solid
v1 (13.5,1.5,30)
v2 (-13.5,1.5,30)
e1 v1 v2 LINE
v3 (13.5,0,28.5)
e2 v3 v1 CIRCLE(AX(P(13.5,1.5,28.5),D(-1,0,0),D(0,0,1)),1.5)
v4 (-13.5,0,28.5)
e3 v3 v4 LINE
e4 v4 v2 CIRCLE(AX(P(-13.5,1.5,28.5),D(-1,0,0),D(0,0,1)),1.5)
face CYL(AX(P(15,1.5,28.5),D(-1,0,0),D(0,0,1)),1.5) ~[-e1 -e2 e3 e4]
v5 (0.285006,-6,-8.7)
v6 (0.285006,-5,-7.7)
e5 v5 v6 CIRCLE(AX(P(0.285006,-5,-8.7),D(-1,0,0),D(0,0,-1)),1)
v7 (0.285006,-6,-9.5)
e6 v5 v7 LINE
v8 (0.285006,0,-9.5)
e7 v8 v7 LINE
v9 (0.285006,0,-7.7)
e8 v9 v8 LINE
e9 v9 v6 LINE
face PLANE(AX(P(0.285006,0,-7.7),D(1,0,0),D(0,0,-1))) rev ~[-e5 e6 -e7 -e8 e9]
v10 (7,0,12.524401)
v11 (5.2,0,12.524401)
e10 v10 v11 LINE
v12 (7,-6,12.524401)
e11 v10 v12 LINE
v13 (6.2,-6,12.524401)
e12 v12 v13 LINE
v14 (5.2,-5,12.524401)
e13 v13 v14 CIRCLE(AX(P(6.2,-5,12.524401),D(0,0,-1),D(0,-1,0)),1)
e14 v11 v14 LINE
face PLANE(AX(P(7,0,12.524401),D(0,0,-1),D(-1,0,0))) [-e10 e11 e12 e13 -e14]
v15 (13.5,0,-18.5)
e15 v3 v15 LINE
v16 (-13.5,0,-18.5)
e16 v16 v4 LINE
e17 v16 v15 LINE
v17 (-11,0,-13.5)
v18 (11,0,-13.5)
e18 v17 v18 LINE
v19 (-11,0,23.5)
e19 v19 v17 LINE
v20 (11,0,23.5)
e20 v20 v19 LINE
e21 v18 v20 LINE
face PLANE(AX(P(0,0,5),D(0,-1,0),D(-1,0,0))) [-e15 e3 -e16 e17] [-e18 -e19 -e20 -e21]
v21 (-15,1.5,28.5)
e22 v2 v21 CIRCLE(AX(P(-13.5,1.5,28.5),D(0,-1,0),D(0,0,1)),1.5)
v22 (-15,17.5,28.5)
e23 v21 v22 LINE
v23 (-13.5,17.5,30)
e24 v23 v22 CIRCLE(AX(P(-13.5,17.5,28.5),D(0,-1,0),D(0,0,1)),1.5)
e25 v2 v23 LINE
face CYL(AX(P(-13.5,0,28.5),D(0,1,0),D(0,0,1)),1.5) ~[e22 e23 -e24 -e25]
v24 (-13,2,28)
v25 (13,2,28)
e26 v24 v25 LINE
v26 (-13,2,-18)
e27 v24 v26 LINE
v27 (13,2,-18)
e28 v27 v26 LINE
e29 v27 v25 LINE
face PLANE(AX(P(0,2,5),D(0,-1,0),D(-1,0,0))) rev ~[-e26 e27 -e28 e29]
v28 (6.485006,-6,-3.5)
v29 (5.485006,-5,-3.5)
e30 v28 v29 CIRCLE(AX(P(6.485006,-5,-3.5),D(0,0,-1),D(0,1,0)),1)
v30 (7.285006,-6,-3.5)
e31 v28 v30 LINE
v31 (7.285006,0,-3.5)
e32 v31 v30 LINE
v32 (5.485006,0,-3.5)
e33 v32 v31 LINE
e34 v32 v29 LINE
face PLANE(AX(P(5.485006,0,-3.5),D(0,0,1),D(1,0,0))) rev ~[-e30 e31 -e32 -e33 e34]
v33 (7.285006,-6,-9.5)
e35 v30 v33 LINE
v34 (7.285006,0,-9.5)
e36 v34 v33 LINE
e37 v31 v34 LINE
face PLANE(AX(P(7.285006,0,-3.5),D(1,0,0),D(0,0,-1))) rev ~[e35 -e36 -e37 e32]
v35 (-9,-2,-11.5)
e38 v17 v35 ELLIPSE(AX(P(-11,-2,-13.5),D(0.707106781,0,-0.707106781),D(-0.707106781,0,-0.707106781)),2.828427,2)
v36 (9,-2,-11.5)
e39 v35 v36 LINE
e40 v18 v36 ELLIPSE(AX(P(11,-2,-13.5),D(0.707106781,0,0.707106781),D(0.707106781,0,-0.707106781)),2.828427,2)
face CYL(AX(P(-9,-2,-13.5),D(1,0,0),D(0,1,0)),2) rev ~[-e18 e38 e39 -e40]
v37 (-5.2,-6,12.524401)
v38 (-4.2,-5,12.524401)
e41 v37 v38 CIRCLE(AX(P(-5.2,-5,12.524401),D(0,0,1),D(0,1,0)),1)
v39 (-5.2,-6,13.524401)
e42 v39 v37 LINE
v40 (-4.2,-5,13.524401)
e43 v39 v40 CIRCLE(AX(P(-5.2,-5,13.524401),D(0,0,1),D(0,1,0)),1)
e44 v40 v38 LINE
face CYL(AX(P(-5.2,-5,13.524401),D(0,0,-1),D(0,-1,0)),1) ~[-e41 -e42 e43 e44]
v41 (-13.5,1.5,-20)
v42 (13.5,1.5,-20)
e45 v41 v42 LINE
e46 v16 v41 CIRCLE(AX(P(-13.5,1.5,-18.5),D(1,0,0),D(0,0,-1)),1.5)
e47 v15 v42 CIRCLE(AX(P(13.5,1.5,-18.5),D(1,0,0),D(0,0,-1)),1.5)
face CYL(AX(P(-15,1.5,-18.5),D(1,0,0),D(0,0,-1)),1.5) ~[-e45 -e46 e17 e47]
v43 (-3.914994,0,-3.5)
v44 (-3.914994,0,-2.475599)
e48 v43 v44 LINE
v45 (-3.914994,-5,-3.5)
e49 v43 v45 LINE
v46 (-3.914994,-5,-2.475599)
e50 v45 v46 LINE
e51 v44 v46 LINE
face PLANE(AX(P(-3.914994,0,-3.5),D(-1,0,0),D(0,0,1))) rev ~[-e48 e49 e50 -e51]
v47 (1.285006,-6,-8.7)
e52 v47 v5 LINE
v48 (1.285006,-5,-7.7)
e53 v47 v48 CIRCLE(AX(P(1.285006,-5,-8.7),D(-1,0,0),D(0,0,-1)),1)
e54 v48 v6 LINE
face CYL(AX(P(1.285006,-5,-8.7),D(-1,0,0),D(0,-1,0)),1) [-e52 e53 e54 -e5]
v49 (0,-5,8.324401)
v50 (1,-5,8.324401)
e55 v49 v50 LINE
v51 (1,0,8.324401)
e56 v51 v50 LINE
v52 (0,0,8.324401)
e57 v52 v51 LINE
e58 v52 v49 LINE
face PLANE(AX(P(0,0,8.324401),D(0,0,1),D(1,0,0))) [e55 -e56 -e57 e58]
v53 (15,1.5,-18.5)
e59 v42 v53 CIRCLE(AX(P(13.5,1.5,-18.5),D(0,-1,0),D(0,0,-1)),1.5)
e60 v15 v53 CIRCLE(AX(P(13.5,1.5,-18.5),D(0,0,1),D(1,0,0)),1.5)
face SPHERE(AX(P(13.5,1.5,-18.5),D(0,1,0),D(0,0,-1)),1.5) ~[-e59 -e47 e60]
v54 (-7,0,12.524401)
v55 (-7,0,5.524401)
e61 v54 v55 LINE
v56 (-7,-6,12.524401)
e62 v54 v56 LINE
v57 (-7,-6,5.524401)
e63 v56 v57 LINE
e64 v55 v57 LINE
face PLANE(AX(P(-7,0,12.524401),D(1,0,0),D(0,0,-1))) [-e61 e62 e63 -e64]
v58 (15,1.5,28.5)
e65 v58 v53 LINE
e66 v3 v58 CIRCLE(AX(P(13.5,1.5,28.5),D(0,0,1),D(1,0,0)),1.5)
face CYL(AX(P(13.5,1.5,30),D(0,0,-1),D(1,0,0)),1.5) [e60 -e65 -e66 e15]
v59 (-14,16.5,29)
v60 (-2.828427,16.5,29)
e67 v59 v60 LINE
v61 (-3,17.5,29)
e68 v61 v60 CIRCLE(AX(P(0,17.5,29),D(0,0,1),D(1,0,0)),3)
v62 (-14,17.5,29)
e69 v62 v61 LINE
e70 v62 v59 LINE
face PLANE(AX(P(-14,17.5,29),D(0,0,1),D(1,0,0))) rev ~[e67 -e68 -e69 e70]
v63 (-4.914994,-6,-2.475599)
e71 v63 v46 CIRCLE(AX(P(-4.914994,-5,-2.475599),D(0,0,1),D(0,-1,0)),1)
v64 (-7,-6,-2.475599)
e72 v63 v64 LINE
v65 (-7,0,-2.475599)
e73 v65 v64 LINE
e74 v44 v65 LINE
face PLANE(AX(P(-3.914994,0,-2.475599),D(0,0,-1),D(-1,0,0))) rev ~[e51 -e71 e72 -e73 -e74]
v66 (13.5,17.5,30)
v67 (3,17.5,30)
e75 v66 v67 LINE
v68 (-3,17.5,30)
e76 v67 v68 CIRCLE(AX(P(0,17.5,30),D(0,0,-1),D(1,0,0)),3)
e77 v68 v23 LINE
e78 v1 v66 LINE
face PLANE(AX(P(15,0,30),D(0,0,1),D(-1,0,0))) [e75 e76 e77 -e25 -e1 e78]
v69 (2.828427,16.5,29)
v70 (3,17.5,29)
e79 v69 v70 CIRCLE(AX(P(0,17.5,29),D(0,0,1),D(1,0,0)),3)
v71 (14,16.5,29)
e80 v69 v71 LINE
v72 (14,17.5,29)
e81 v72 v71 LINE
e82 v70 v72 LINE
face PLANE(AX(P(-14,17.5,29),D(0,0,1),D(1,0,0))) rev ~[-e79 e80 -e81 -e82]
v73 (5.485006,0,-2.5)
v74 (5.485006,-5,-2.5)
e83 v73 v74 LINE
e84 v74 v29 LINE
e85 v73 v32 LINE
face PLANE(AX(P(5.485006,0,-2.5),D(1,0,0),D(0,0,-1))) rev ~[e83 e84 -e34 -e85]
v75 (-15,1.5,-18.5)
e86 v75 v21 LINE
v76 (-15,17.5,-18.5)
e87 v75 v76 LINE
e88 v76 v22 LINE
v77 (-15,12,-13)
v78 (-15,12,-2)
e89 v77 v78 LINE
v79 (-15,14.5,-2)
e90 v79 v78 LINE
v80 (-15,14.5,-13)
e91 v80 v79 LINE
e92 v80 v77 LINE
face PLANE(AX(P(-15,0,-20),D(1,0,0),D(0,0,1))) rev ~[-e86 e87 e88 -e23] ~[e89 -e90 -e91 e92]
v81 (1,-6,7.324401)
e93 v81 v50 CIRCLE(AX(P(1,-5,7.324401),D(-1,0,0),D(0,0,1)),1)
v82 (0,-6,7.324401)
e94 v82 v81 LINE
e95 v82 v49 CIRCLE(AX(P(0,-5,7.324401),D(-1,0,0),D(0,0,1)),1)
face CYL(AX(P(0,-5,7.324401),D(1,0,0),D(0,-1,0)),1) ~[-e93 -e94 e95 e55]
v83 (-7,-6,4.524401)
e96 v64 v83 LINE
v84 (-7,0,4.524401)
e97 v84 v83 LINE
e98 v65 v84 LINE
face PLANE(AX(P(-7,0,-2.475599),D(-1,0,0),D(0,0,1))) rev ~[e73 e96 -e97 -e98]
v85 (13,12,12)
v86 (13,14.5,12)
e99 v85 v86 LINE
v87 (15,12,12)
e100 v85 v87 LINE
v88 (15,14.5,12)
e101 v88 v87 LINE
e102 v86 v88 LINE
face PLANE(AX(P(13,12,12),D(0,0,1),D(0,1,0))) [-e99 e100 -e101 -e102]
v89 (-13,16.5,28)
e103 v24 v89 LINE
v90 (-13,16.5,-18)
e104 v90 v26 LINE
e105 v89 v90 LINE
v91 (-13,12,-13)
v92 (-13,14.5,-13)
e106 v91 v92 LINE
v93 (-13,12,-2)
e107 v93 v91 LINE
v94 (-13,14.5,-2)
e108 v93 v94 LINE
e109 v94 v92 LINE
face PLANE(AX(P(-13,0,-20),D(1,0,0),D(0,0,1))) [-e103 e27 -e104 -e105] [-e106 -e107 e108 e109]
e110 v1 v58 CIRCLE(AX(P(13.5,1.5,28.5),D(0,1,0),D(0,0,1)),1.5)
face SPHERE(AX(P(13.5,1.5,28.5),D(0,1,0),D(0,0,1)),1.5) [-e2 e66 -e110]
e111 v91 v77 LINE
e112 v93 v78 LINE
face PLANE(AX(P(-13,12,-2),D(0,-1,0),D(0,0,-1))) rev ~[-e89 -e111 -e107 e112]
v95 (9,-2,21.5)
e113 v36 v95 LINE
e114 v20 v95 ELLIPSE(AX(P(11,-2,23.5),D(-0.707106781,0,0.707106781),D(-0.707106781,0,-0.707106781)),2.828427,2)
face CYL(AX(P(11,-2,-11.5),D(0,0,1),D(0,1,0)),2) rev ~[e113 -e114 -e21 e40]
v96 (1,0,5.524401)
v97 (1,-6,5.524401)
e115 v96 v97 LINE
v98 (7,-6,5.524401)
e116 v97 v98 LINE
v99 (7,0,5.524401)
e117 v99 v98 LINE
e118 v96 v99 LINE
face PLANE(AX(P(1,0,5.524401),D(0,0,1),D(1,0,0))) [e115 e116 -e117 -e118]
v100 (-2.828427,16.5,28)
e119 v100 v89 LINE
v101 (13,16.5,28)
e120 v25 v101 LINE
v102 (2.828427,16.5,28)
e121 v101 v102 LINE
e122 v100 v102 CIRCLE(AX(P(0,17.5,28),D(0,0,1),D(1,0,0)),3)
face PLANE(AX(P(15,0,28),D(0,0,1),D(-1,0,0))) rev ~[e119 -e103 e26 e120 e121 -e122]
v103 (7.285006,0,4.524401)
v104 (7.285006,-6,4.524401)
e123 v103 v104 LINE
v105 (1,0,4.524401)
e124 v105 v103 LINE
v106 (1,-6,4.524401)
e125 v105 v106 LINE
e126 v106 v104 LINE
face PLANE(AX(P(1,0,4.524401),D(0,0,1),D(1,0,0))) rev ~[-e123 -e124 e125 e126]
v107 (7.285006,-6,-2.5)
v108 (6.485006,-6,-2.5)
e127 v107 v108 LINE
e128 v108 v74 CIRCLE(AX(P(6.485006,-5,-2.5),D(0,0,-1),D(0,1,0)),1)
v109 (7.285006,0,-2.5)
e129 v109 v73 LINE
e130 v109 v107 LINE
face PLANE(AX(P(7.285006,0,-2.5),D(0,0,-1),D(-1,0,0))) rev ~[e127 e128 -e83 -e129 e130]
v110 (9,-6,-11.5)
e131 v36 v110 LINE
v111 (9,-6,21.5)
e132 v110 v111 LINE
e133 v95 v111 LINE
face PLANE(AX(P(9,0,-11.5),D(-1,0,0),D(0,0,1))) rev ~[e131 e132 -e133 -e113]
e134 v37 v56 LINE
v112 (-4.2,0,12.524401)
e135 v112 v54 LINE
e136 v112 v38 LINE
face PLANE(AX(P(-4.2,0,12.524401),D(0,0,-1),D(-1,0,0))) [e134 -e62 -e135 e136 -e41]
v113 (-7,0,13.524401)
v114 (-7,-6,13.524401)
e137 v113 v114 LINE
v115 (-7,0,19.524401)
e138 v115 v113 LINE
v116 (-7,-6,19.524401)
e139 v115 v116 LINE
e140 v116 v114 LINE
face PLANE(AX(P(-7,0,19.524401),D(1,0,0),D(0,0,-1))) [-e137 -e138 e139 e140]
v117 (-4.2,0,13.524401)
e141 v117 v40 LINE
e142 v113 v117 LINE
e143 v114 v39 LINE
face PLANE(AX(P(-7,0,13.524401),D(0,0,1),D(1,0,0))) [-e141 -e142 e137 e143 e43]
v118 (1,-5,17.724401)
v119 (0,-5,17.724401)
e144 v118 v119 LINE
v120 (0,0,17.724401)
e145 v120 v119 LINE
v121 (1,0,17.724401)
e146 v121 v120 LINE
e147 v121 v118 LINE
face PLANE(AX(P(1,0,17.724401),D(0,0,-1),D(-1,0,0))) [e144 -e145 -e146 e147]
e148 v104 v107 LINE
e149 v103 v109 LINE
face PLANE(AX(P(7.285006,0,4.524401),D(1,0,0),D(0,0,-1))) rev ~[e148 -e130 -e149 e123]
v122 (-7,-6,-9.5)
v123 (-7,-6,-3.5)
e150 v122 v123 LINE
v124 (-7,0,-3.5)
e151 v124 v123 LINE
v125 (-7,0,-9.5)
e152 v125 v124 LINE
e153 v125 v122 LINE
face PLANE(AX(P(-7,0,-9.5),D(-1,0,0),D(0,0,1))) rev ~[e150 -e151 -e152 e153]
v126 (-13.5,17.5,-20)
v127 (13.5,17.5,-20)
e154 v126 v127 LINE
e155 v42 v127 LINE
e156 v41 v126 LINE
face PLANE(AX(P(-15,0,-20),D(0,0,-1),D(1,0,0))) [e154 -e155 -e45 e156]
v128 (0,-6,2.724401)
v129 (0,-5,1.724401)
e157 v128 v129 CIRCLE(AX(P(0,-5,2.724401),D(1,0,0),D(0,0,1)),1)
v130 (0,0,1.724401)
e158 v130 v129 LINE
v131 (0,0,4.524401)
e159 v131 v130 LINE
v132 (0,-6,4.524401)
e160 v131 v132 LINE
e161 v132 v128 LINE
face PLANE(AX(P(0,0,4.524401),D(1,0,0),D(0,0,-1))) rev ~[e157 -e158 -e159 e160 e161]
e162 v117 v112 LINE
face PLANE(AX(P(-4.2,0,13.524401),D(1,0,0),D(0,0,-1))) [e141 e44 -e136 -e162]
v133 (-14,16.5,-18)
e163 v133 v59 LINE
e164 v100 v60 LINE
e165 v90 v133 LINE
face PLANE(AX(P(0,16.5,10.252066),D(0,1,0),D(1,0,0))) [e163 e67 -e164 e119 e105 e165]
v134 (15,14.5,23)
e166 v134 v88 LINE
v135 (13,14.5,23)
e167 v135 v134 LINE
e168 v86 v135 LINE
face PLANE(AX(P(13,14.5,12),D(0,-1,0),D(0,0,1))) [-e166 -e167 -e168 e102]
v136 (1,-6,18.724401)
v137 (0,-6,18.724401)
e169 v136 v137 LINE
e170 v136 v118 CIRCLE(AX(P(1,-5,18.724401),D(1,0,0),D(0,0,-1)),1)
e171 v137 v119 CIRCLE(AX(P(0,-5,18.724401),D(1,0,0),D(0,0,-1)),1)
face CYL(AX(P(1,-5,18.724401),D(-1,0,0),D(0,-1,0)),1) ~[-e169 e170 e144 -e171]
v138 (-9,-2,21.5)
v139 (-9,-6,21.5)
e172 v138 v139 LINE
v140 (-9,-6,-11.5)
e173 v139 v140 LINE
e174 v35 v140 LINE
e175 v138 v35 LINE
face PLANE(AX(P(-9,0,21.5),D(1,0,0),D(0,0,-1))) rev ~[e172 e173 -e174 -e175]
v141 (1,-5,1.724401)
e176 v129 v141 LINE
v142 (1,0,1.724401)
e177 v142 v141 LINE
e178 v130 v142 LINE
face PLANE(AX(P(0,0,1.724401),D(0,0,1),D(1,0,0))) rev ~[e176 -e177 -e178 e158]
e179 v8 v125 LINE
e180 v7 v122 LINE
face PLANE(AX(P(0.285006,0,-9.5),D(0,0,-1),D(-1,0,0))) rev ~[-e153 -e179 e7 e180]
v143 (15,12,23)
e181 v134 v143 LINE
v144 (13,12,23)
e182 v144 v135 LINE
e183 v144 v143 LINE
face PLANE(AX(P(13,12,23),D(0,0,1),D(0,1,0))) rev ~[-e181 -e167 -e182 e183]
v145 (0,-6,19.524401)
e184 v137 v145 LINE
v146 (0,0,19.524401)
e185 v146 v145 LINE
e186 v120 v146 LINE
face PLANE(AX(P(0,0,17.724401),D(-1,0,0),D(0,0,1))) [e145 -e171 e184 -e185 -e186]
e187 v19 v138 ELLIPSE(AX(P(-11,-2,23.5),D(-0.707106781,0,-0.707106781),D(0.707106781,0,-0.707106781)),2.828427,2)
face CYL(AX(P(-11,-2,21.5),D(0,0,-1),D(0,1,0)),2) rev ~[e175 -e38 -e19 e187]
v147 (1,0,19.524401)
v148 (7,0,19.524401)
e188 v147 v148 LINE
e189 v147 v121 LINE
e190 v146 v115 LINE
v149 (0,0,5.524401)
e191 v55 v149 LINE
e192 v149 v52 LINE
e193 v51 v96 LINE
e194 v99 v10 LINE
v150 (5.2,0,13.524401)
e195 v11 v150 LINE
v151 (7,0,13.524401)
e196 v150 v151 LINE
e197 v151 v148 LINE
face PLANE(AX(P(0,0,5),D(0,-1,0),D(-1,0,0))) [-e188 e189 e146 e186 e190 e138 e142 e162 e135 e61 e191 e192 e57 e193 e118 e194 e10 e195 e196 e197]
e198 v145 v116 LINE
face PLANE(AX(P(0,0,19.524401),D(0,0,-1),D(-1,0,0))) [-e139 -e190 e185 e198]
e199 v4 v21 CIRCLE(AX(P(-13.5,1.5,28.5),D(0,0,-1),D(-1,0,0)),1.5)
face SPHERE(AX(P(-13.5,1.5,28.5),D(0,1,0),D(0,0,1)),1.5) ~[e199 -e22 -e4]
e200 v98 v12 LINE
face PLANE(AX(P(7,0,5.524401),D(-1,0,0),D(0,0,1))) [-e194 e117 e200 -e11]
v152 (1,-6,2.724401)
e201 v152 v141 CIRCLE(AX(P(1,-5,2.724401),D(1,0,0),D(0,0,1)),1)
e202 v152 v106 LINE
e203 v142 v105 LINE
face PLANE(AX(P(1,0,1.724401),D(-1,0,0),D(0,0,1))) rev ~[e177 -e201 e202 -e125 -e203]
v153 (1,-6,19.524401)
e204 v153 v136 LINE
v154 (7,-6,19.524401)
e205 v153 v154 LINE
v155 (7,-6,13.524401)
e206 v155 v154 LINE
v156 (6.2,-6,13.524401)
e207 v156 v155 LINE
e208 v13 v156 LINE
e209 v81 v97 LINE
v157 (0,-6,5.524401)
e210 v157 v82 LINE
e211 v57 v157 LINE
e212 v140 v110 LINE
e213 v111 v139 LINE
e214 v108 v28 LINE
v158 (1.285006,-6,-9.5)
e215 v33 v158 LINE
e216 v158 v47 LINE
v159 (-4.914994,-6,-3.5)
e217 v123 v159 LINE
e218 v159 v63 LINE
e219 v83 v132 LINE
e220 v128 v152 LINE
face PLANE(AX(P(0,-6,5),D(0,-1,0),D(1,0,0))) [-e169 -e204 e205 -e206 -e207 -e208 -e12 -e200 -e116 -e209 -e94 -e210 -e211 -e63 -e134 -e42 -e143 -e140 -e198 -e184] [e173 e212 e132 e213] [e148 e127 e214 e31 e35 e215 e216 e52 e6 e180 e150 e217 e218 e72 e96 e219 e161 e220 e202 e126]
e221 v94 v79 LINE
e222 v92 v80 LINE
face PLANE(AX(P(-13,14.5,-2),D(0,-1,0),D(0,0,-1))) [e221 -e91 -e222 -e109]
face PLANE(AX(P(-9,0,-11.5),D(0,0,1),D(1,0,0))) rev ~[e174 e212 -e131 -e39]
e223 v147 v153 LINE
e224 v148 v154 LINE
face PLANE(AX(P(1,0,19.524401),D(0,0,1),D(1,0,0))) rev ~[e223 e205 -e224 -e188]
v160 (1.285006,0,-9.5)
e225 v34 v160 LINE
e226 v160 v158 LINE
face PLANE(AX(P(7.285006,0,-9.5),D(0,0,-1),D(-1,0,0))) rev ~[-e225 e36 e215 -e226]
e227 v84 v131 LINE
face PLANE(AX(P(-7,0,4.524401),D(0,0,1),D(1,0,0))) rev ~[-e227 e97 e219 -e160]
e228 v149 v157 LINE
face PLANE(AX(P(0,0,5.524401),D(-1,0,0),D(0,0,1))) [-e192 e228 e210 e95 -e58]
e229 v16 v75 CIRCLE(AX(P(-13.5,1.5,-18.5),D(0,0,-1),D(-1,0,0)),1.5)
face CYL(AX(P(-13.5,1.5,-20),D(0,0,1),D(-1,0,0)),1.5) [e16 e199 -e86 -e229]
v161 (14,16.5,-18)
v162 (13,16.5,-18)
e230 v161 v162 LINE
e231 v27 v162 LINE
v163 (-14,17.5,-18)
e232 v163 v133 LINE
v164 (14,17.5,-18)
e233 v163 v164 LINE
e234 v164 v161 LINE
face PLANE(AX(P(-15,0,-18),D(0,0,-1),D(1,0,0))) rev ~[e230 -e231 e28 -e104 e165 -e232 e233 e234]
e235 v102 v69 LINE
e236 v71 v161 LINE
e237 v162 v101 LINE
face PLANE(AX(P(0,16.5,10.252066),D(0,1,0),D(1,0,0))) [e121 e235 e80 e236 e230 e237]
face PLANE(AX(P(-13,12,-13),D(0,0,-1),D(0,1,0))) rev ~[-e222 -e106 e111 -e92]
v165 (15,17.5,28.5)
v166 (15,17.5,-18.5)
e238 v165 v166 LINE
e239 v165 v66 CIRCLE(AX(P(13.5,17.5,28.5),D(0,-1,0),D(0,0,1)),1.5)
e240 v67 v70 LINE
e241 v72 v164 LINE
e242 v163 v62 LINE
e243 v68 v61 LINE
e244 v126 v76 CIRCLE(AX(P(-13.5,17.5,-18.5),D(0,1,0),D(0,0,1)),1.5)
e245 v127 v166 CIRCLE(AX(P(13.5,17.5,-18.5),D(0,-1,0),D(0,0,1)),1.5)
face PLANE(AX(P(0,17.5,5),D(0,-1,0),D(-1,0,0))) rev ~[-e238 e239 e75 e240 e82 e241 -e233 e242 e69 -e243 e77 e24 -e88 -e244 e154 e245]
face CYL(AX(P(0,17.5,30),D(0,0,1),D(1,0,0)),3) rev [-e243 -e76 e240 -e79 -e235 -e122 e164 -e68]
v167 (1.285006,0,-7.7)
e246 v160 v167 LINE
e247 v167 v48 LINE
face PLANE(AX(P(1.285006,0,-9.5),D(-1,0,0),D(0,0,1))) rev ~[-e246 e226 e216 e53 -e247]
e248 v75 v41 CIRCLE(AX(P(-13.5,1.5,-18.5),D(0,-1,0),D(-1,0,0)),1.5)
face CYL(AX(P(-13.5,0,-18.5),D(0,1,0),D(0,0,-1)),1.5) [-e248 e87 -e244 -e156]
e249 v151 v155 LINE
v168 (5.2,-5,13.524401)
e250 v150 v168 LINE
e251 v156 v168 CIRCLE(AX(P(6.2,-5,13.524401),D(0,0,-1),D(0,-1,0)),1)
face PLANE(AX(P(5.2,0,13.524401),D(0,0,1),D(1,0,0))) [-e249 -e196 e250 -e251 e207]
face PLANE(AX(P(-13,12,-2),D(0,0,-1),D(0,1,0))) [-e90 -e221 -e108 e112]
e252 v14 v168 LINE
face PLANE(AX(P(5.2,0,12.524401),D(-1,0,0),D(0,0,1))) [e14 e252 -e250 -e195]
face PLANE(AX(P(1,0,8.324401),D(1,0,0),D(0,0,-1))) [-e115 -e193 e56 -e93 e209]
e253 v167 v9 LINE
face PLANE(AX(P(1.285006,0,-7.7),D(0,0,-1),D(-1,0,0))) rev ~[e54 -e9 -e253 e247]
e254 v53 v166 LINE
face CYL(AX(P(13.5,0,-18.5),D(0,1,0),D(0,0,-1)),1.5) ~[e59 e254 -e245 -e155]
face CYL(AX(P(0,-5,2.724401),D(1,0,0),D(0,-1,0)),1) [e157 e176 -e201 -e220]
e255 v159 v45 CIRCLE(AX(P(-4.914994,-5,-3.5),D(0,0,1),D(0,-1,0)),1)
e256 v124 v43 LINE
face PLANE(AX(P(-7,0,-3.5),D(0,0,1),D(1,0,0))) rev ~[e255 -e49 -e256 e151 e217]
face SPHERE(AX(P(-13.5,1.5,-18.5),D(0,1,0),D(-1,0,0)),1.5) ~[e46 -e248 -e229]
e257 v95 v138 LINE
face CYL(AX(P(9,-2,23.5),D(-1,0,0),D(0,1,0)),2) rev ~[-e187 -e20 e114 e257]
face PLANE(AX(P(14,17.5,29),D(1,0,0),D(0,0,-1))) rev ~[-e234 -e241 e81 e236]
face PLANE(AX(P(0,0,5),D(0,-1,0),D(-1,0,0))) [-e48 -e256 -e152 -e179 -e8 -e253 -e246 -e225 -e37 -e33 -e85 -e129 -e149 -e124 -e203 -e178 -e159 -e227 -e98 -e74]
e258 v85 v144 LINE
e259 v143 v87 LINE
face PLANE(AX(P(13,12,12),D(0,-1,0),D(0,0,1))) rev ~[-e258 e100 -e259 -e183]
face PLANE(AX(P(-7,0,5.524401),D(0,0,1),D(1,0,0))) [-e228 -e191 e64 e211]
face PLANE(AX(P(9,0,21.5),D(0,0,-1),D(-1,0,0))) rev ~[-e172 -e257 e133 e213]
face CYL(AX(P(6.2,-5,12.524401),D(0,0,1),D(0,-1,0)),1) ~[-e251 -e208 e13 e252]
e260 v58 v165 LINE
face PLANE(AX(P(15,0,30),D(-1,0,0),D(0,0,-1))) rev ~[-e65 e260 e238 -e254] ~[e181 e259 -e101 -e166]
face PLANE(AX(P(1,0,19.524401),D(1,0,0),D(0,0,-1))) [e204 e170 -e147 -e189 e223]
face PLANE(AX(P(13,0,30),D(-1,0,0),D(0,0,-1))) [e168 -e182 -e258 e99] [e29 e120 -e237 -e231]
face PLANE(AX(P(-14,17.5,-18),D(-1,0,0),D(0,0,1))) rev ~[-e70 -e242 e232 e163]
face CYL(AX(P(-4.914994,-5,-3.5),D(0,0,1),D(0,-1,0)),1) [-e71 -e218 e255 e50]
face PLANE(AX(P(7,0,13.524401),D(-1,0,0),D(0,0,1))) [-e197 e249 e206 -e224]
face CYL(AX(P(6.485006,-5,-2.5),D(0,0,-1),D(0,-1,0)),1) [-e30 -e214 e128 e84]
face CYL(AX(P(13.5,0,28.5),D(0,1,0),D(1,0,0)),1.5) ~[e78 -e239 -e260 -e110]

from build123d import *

# Parameters (mm, degrees)
BOSS_EXTRUDE1_DEPTH = 17.5
SHELL1_T            = -2
FILLET1_R           = 1.5
CUT_EXTRUDE3_REACH  = 4
SKETCH7_W           = 11
SKETCH7_H           = 2.5
CUT_EXTRUDE4_REACH  = 4
SKETCH8_W           = 11
SKETCH8_H           = 2.5
CUT_EXTRUDE5_DEPTH  = 1
CUT_EXTRUDE6_REACH  = 52
BOSS_EXTRUDE2_DEPTH = 6
FILLET2_R           = 2
FILLET3_R           = 1


with BuildPart() as part:
    # Sketch1 → Boss-Extrude1 (new body)
    with BuildSketch(Plane(origin=(0, 0, 0), x_dir=(1, 0, 0), z_dir=(0, 1, 0))):
        Polygon((-15, 20), (15, 20), (15, -20), (15, -30), (-15, -30), (-15, -20), align=None)
    extrude(amount=BOSS_EXTRUDE1_DEPTH)

    # Shell1
    shell1_openings = [part.faces().sort_by_distance(p)[0] for p in [
        (0, 17.5, 5),
    ]]
    offset(amount=SHELL1_T, openings=shell1_openings, kind=Kind.INTERSECTION)

    # Fillet1
    fillet1_edges = [part.edges().sort_by_distance(p)[0] for p in [
        (15, 8.75, 30),
        (-15, 8.75, 30),
        (-15, 8.75, -20),
        (15, 8.75, -20),
        (0, 0, 30),
        (-15, 0, 5),
        (0, 0, -20),
        (15, 0, 5),
    ]]
    fillet(fillet1_edges, radius=FILLET1_R)

    # Sketch7 → Cut-Extrude3 (cut, up to next)
    with BuildSketch(Plane.ZY.offset(-13), mode=Mode.PRIVATE) as cut_extrude3_sk1:
        with Locations((17.5, 13.25)):
            Rectangle(SKETCH7_W, SKETCH7_H)
    cut_extrude3_tool1 = extrude(cut_extrude3_sk1.sketch, amount=-CUT_EXTRUDE3_REACH, mode=Mode.PRIVATE) & part.part
    add(cut_extrude3_tool1.solids().sort_by_distance((13, 13.25, 17.5))[0], mode=Mode.SUBTRACT)

    # Sketch8 → Cut-Extrude4 (cut, up to next)
    with BuildSketch(Plane(origin=(-13, 0, 0), x_dir=(0, 0, -1), z_dir=(1, 0, 0)), mode=Mode.PRIVATE) as cut_extrude4_sk1:
        with Locations((7.5, 13.25)):
            Rectangle(SKETCH8_W, SKETCH8_H)
    cut_extrude4_tool1 = extrude(cut_extrude4_sk1.sketch, amount=-CUT_EXTRUDE4_REACH, mode=Mode.PRIVATE) & part.part
    add(cut_extrude4_tool1.solids().sort_by_distance((-13, 13.25, -7.5))[0], mode=Mode.SUBTRACT)

    # Sketch9 → Cut-Extrude5 (cut)
    with BuildSketch(Plane(origin=(0, 17.5, 0), x_dir=(1, 0, 0), z_dir=(0, 1, 0))):
        Polygon((-13, 18), (-14, 18), (-14, -19), (-14, -29), (14, -29), (14, -19), (14, 18), (13, 18), (13, -18), (13, -28), (-13, -28), (-13, -18), align=None)
    extrude(amount=-CUT_EXTRUDE5_DEPTH, mode=Mode.SUBTRACT)

    # Sketch10 → Cut-Extrude6 (cut, up to next)
    with BuildSketch(Plane.XY.offset(30), mode=Mode.PRIVATE) as cut_extrude6_sk1:
        with BuildLine():
            Line((-3, 17.5), (3, 17.5))
            ThreePointArc((3, 17.5), (0, 14.5), (-3, 17.5))
        make_face()
    cut_extrude6_tool1 = extrude(cut_extrude6_sk1.sketch, amount=-CUT_EXTRUDE6_REACH, mode=Mode.PRIVATE) & part.part
    add(cut_extrude6_tool1.solids().sort_by_distance((0, 16.22676, 30))[0], mode=Mode.SUBTRACT)

    # Sketch11 → Boss-Extrude2 (add)
    with BuildSketch(Plane.XZ):
        Polygon((-9, 21.5), (-9, -11.5), (6.25, -11.5), (9, -11.5), (9, 21.5), (7, 21.5), align=None)
        Polygon((-7, 5.524400968), (0, 5.524400968), (0, 8.324400968), (1, 8.324400968), (1, 5.524400968), (7, 5.524400968), (7, 12.524400968), (5.2, 12.524400968), (5.2, 13.524400968), (7, 13.524400968), (7, 19.524400968), (6.25, 19.524400968), (1, 19.524400968), (1, 17.724400968), (0, 17.724400968), (0, 19.524400968), (-7, 19.524400968), (-7, 13.524400968), (-4.2, 13.524400968), (-4.2, 12.524400968), (-7, 12.524400968), align=None, mode=Mode.SUBTRACT)
        Polygon((7.285005864, -9.5), (6.535005864, -9.5), (1.285005864, -9.5), (1.285005864, -7.7), (0.285005864, -7.7), (0.285005864, -9.5), (-6.714994136, -9.5), (-7, -9.5), (-7, -3.5), (-6.714994136, -3.5), (-3.914994136, -3.5), (-3.914994136, -2.475599032), (-7, -2.475599032), (-7, 4.524400968), (0, 4.524400968), (0, 1.724400968), (1, 1.724400968), (1, 4.524400968), (7.285005864, 4.524400968), (7.285005864, -2.5), (5.485005864, -2.5), (5.485005864, -3.5), (7.285005864, -3.5), align=None, mode=Mode.SUBTRACT)
    extrude(amount=BOSS_EXTRUDE2_DEPTH)

    # Fillet2
    fillet2_edges = [part.edges().sort_by_distance(p)[0] for p in [
        (-9, 0, 5),
        (0, 0, -11.5),
        (0, 0, 21.5),
        (9, 0, 5),
    ]]
    fillet(fillet2_edges, radius=FILLET2_R)

    # Fillet3
    fillet3_edges = [part.edges().sort_by_distance(p)[0] for p in [
        (0.785005864, -6, -7.7),
        (5.2, -6, 13.024400968),
        (0.5, -6, 8.324400968),
        (-4.2, -6, 13.024400968),
        (0.5, -6, 17.724400968),
        (-3.914994136, -6, -2.987799516),
        (0.5, -6, 1.724400968),
        (5.485005864, -6, -3),
    ]]
    fillet(fillet3_edges, radius=FILLET3_R)


solid = part.part
